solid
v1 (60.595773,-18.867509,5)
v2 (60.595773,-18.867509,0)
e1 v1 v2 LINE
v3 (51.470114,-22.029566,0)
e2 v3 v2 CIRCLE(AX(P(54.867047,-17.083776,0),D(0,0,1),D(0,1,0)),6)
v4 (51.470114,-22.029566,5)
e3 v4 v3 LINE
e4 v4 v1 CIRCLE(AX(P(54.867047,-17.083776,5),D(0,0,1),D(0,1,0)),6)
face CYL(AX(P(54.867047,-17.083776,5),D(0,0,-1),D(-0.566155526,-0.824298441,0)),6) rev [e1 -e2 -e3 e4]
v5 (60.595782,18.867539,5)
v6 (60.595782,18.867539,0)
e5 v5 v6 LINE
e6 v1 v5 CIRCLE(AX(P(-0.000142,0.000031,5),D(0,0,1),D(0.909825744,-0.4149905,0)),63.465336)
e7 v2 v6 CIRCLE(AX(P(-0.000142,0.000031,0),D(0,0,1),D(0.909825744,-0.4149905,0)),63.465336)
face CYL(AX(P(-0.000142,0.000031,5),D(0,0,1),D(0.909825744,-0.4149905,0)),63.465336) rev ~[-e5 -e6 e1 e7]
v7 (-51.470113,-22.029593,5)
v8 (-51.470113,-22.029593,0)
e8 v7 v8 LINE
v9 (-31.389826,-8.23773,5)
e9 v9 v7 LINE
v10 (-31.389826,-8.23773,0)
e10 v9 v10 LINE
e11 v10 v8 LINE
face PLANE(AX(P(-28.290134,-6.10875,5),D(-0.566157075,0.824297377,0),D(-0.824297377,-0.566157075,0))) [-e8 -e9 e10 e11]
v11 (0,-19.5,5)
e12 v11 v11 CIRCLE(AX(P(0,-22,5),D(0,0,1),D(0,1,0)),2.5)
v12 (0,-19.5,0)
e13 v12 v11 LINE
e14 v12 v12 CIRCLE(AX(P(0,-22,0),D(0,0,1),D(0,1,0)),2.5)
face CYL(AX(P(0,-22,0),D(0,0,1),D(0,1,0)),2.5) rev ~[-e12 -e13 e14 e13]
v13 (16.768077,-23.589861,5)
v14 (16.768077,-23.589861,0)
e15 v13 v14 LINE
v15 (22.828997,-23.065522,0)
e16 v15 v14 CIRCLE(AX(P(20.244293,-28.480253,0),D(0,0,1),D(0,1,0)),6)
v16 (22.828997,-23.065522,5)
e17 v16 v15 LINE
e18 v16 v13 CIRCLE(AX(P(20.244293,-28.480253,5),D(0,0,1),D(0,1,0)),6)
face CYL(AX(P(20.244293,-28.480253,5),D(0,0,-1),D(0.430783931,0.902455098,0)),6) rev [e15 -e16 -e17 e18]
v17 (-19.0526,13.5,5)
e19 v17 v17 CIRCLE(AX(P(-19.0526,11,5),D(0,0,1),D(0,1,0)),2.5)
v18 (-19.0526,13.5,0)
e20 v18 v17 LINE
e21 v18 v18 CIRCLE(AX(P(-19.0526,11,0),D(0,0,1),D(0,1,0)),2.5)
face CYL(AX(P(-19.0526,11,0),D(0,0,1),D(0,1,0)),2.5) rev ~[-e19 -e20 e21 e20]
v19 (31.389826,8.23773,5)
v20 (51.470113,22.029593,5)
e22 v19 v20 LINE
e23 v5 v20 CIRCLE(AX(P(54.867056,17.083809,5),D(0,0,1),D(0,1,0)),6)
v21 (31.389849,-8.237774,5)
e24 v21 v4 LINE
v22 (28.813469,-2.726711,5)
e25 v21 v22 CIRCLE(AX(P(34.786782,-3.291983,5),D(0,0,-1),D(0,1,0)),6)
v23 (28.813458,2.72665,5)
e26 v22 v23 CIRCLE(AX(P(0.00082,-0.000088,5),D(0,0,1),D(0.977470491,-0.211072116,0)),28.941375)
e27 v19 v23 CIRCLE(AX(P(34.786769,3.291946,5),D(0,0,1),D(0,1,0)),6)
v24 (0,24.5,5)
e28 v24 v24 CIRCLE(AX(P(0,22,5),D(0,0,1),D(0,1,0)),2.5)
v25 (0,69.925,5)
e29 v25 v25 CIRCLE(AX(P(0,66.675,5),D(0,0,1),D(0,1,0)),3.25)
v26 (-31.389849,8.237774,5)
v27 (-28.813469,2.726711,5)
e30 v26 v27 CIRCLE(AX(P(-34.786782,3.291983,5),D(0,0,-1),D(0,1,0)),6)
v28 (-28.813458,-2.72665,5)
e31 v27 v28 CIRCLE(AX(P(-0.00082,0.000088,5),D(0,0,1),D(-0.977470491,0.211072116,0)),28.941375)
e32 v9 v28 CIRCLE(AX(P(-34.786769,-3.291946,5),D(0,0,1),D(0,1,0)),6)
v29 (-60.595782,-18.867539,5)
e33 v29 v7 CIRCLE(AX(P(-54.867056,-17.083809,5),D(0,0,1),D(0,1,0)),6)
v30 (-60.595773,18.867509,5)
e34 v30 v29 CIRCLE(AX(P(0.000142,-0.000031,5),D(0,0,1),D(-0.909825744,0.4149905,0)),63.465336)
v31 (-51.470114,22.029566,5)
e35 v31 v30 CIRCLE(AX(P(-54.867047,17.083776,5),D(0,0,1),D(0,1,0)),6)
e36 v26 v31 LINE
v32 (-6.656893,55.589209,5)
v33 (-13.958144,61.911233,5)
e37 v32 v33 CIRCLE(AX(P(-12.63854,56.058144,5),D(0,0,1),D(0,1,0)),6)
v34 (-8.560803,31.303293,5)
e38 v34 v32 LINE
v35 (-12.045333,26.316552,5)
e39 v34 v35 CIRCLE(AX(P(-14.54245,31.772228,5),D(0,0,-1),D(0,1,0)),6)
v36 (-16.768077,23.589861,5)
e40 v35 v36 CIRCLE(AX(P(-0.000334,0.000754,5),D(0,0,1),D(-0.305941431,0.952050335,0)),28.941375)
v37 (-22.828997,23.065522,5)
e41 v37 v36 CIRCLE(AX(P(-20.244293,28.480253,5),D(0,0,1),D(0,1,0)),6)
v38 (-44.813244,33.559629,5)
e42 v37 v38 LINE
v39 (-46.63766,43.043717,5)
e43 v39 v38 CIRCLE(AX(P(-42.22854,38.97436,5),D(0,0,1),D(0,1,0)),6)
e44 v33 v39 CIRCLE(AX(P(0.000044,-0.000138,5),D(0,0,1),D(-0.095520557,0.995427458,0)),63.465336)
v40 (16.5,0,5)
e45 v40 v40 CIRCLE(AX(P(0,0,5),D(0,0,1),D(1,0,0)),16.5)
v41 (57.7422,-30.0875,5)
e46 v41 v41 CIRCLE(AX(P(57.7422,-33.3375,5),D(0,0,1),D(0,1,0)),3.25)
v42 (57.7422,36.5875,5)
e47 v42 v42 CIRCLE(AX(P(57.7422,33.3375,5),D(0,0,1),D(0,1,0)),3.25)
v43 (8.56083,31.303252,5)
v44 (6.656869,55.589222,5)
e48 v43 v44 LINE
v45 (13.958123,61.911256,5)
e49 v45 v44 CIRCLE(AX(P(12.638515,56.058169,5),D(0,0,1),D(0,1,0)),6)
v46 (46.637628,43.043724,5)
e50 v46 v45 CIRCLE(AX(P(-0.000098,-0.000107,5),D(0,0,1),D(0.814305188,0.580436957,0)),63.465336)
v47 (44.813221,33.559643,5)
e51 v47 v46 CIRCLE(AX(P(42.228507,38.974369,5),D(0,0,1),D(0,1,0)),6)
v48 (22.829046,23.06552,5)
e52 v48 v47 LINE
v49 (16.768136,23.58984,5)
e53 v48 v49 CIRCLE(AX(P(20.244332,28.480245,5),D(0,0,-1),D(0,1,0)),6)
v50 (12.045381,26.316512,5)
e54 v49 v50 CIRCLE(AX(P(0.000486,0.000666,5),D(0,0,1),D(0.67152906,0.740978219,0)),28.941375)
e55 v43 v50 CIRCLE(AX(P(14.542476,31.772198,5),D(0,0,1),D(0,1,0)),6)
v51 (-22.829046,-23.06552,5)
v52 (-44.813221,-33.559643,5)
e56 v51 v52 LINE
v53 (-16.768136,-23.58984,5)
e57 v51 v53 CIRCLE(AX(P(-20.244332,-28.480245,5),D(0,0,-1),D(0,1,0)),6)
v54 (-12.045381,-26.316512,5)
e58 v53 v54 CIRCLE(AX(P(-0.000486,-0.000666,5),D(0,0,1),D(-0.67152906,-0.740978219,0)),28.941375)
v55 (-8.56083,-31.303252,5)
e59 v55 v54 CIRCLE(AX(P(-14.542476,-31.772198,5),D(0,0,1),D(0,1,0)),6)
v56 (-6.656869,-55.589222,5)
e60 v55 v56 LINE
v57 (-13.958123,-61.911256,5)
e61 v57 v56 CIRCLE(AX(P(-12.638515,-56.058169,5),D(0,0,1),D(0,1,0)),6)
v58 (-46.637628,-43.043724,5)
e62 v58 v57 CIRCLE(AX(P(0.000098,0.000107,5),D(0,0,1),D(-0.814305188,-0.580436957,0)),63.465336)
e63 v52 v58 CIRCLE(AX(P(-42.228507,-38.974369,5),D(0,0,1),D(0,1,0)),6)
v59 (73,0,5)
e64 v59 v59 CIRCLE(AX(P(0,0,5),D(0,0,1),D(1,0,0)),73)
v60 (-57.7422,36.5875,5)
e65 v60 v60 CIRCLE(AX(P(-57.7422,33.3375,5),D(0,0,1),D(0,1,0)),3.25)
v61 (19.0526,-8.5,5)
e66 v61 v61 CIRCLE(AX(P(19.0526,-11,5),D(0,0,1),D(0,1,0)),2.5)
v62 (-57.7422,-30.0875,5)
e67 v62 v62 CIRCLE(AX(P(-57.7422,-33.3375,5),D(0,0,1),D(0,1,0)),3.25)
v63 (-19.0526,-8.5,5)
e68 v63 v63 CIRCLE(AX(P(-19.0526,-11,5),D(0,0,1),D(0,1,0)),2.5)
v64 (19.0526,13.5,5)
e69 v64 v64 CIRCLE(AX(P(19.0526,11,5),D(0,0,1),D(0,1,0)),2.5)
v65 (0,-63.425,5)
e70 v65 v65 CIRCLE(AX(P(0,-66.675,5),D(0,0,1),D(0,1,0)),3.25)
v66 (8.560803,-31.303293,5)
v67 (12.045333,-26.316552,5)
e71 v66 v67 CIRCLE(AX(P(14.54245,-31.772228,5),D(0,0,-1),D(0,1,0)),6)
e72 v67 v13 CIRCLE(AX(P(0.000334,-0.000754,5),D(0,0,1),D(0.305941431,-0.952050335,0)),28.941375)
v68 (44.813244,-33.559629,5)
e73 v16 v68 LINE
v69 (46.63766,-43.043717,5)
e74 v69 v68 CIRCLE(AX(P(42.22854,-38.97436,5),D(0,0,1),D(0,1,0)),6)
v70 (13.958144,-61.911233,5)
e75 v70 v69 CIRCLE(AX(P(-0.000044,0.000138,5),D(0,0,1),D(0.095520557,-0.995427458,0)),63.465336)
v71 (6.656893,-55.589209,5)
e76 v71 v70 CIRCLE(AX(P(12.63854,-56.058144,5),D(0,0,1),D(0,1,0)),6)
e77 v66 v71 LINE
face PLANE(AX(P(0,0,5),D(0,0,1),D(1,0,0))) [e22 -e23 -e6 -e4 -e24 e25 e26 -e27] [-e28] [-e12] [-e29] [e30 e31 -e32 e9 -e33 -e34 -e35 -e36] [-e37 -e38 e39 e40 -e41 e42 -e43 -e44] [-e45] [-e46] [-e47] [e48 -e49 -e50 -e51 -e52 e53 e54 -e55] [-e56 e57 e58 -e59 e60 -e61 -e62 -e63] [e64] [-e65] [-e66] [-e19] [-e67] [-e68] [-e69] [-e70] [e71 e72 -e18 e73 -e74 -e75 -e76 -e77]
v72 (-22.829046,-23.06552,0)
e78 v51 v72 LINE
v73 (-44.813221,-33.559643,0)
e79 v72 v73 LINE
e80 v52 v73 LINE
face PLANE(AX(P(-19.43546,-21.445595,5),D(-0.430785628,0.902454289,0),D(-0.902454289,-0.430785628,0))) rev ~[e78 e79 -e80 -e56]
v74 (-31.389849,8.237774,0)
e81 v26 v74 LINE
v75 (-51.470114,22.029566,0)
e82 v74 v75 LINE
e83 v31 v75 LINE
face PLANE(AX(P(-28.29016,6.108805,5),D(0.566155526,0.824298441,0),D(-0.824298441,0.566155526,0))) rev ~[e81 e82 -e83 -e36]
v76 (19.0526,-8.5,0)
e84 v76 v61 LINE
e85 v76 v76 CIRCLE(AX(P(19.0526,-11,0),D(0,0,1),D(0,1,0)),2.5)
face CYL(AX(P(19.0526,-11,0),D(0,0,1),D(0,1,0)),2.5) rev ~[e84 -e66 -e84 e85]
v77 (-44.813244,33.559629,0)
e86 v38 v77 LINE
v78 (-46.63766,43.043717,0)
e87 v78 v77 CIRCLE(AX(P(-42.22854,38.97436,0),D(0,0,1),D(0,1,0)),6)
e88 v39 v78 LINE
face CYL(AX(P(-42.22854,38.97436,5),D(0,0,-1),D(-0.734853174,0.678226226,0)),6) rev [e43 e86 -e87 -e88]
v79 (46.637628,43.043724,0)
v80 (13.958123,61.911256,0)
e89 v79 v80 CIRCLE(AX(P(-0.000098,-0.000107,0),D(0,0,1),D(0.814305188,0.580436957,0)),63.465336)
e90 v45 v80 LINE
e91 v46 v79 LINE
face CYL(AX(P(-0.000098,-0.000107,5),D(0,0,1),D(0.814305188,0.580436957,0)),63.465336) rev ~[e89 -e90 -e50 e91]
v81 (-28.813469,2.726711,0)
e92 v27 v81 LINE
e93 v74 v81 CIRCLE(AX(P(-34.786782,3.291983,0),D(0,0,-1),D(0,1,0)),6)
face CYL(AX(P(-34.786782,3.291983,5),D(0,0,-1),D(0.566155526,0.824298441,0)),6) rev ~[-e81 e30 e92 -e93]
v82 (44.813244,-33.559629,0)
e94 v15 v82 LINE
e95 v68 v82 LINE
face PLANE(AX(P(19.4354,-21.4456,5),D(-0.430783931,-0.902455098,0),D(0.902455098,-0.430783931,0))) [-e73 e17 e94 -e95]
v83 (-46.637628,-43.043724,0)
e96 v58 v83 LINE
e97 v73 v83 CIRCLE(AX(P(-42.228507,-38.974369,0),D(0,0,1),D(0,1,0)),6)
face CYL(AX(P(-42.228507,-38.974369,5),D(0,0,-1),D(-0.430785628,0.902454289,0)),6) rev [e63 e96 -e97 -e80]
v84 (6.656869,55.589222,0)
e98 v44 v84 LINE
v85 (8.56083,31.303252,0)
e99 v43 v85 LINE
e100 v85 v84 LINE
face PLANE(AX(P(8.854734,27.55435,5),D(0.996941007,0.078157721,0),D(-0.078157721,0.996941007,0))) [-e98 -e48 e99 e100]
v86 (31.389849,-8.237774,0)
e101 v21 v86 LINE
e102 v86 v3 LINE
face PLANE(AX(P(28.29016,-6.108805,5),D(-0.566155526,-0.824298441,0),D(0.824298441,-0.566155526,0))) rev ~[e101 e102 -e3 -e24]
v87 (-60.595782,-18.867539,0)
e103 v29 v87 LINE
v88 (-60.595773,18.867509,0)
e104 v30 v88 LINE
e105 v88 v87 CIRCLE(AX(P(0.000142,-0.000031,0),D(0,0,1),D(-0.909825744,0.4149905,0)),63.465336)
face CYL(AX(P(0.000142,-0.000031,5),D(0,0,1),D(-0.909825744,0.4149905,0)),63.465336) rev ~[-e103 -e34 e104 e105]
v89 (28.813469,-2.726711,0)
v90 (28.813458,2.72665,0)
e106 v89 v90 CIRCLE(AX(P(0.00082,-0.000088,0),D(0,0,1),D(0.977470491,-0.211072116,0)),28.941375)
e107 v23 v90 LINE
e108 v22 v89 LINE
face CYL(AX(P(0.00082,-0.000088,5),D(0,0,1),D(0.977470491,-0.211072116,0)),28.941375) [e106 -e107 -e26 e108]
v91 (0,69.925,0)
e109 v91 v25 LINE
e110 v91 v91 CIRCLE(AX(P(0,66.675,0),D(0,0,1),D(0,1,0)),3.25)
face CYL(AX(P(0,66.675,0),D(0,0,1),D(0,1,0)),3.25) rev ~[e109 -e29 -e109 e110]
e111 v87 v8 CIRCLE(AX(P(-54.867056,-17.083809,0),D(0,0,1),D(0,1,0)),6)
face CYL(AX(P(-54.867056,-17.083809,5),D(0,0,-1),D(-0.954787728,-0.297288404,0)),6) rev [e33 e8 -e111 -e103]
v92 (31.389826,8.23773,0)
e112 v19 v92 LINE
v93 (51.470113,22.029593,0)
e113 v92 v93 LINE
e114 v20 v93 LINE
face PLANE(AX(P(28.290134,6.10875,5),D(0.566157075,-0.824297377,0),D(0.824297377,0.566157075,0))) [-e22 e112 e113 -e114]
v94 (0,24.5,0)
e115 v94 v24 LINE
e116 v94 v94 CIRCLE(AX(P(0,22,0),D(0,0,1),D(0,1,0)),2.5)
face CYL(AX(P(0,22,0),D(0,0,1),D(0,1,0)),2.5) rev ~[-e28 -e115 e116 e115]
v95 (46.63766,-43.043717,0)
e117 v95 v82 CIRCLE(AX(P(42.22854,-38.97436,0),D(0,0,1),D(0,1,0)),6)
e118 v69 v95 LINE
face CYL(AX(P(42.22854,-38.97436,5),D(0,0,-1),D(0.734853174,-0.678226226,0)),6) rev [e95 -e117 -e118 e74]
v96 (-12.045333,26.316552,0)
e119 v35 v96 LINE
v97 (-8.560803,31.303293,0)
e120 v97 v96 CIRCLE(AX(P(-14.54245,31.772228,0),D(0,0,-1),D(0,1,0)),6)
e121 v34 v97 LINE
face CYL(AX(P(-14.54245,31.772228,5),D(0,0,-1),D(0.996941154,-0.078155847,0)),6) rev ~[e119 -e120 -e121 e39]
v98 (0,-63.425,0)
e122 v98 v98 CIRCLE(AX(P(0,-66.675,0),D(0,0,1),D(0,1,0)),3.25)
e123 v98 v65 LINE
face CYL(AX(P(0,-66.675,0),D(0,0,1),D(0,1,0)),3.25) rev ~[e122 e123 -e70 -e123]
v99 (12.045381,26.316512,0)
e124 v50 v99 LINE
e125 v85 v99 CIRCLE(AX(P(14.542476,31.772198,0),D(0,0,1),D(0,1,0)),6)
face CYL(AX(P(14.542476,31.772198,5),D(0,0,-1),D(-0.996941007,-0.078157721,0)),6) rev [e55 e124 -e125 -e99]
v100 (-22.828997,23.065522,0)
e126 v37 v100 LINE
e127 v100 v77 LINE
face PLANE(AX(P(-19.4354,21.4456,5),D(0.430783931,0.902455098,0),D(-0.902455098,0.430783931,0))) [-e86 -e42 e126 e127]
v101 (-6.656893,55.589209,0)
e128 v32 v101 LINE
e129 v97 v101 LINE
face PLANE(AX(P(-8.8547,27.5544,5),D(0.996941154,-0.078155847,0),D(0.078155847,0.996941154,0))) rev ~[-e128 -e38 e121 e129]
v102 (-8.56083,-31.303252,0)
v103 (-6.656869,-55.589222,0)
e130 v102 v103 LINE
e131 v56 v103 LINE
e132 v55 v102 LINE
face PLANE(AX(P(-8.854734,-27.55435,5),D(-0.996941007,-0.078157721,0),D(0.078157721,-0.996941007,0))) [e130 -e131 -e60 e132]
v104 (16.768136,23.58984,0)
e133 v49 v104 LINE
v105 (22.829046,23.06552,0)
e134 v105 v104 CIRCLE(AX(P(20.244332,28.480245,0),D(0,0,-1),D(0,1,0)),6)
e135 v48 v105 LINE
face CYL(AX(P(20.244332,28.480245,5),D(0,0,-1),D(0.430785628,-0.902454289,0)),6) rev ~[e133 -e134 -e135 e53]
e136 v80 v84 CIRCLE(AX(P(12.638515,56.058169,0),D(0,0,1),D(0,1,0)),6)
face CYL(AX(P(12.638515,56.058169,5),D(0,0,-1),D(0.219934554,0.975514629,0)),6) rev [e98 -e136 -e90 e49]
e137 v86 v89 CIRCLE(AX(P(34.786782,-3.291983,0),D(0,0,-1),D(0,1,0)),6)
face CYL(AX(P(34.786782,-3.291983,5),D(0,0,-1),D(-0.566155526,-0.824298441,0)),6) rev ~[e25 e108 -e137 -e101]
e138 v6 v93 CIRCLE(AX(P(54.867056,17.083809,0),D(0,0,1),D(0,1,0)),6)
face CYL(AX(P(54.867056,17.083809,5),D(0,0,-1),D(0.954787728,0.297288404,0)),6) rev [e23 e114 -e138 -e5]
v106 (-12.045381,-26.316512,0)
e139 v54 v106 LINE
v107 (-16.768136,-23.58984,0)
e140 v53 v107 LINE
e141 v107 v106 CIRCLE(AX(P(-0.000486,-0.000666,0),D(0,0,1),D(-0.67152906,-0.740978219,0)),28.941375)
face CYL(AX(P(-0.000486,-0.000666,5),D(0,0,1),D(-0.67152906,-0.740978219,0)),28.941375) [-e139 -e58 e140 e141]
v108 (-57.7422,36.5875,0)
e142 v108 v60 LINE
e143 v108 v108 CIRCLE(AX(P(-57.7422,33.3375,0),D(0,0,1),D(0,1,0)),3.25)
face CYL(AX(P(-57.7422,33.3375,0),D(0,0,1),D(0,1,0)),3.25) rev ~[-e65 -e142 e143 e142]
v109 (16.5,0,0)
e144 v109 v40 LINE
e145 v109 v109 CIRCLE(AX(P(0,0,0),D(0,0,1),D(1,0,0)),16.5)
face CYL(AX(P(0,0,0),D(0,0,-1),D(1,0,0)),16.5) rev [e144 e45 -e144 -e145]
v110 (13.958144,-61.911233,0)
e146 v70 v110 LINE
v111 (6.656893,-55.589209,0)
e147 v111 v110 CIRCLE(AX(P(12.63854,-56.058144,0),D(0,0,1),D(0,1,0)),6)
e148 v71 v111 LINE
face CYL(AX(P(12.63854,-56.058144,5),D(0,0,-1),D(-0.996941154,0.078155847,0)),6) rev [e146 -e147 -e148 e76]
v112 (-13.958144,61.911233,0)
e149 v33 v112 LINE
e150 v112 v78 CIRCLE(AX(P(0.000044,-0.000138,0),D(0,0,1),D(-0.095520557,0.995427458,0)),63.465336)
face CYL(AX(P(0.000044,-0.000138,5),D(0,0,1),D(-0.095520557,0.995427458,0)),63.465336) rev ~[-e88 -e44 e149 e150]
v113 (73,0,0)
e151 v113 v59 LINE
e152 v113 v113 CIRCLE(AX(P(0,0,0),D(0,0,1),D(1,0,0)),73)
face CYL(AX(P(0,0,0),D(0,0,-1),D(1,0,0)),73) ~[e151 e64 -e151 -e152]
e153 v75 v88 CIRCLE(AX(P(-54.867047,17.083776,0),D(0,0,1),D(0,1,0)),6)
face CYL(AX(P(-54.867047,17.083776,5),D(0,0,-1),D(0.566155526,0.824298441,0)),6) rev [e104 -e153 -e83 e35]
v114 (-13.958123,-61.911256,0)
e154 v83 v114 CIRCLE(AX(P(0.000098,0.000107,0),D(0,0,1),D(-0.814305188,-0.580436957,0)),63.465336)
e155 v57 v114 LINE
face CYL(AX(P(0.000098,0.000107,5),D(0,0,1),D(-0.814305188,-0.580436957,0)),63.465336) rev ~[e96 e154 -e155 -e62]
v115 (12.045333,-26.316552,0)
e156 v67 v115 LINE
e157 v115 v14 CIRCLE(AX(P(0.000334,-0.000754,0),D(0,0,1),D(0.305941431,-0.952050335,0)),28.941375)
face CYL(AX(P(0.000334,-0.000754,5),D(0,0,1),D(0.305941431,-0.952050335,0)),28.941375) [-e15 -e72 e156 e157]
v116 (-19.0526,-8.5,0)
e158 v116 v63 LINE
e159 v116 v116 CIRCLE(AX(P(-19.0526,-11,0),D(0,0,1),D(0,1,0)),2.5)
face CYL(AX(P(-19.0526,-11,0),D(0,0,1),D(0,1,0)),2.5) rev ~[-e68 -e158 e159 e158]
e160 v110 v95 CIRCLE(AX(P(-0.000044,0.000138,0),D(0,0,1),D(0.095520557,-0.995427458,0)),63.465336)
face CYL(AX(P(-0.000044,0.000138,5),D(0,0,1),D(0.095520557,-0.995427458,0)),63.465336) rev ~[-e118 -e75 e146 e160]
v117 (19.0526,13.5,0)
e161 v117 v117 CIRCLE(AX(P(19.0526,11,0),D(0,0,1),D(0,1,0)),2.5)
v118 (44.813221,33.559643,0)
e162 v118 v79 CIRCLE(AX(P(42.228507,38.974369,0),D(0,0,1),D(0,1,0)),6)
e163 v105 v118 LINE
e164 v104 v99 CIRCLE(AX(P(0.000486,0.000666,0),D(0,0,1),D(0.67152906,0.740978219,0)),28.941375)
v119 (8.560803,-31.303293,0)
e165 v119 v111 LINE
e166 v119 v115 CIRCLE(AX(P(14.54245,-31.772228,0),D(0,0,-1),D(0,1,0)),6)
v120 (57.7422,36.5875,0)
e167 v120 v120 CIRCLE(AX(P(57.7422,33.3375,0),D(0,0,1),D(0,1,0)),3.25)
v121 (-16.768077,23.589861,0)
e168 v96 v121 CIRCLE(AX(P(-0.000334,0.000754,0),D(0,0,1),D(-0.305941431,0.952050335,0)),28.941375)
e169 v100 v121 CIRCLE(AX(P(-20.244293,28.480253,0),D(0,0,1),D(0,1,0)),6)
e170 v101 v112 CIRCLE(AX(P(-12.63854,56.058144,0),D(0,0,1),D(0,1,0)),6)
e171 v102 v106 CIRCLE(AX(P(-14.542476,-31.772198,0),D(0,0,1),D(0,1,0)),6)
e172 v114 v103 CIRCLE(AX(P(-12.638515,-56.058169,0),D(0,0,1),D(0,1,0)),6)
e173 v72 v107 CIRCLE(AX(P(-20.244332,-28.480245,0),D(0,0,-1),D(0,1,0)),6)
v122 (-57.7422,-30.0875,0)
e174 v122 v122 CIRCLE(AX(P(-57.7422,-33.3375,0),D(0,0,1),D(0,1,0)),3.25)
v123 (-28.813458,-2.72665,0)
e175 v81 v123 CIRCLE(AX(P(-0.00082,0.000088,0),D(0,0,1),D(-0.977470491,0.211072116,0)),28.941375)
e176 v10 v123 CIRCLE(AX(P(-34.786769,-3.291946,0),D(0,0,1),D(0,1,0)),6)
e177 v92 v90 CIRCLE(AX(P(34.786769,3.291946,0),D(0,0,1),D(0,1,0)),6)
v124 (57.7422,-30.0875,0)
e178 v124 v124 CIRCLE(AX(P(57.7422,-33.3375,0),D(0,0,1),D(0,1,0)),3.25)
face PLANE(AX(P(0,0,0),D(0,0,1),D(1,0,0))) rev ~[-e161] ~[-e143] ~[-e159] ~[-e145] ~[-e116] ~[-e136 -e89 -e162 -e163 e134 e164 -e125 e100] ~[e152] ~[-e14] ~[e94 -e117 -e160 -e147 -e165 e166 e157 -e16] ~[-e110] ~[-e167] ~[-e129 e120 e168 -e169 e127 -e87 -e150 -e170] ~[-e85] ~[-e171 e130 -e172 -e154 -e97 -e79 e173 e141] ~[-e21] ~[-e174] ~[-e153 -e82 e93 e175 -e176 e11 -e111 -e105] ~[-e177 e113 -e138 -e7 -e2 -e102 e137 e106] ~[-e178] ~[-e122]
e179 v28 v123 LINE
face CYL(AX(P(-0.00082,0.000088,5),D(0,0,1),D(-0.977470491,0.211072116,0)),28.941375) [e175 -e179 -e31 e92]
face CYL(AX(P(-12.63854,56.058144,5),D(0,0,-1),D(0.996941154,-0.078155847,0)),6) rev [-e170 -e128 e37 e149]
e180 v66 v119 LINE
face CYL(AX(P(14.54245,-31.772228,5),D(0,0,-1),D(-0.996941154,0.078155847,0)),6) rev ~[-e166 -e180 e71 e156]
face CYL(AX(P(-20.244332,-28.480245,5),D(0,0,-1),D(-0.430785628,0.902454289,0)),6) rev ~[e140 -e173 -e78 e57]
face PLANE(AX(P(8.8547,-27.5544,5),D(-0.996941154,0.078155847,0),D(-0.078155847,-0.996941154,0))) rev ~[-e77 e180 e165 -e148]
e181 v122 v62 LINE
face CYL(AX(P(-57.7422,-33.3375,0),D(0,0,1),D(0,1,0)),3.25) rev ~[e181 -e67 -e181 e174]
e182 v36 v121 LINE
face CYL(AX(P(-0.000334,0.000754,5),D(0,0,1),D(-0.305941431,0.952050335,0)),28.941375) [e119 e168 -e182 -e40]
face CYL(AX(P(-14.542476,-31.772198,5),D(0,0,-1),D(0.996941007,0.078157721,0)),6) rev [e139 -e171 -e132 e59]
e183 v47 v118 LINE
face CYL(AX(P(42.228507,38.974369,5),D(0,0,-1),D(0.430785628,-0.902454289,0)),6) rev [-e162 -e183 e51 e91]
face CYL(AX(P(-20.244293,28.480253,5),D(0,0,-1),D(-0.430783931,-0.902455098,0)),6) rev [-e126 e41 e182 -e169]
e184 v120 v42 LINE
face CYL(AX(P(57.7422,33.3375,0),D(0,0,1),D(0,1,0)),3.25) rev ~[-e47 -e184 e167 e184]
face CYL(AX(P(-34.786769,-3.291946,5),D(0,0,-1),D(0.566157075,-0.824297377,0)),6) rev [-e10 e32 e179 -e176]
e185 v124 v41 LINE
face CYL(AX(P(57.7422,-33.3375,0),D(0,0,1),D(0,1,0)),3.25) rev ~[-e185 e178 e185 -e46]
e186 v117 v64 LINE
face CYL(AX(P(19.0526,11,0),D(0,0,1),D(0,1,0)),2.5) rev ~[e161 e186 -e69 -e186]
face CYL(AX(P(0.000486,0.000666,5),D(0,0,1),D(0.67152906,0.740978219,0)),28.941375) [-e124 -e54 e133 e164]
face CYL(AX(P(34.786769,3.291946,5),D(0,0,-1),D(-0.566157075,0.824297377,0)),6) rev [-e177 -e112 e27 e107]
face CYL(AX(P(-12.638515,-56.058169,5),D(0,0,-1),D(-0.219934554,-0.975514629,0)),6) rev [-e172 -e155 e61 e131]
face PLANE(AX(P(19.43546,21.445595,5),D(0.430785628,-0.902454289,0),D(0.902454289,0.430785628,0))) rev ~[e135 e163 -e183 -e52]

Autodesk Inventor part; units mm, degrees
ref_plane "YZ Plane" through (0, 0, 0) normal (1, 0, 0) x (0, 1, 0)
ref_plane "XZ Plane" through (0, 0, 0) normal (0, 1, 0) x (-1, 0, 0)
ref_plane "XY Plane" through (0, 0, 0) normal (0, 0, 1) x (1, 0, 0)
sketch "Sketch1" plane through (0, 0, 0) normal (0, 0, 1) x (1, 0, 0)
  circle A0 centre (0, 0) radius 16.5
  circle A1 centre (0, 0) radius 73
  point P0 (0, 66.675)
  point P1 (-57.7422, 33.3375)
  point P2 (-57.7422, -33.3375)
  point P3 (0, -66.675)
  point P4 (57.7422, -33.3375)
  point P5 (57.7422, 33.3375)
  point P6 (0, 22)
  point P7 (-19.0526, 11)
  point P8 (-19.0526, -11)
  point P9 (0, -22)
  point P10 (19.0526, -11)
  point P11 (19.0526, 11)
  dimension "d0" = 66.675
  dimension "d3" = 360
  dimension "d9" = 33
  dimension "d20" = 22
  dimension "d23" = 360
  dimension "d25" = 146
extrude "Extrusion2" add sketch "Sketch1" along normal blind 5
hole "Hole2" at (0, 66.675, 0) at (-57.7422, 33.3375, 0) at (-57.7422, -33.3375, 0) at (0, -66.675, 0) at (57.7422, -33.3375, 0) at (57.7422, 33.3375, 0) direction (0, 0, 1) diameter 6.5 end through all
hole "Hole3" at (0, 22, 0) at (-19.0526, 11, 0) at (-19.0526, -11, 0) at (0, -22, 0) at (19.0526, 11, 0) at (19.0526, -11, 0) direction (0, 0, 1) diameter 5 end through all
sketch "Sketch4" plane through (0, 0, 5) normal (0, 0, 1) x (1, 0, 0)
  circle A0 centre (0, 0) radius 28.9422 construction
  line L0 (0, 0) -> (58.5803, 0) construction
  circle A1 centre (-57.7422, 33.3375) radius 3.25 construction
  circle A2 centre (0, 66.675) radius 3.25 construction
  line L1 (-57.7422, 33.3375) -> (0, 66.675) construction
  circle A3 centre (0, 0) radius 16.5 construction
  circle A4 centre (-19.0526, 11) radius 2.5 construction
  circle A5 centre (0, 22) radius 2.5 construction
  line L2 (-19.0526, 11) -> (0, 22) construction
  circle A6 centre (0, 0) radius 63.4652 construction
  arc A7 (-6.0622, 63.175) -> (-51.6801, 36.8375) centre (0, 0) ccw
  line L3 (-9.5263, 16.5) -> (-21.2308, 36.7728) construction
  line L4 (-8.8547, 27.5544) -> (-19.4354, 21.4456) construction
  line L5 (-8.8547, 27.5544) -> (-6.0622, 63.175)
  line L6 (-19.4354, 21.4456) -> (-51.6801, 36.8375)
  arc A8 (-8.8547, 27.5544) -> (-19.4354, 21.4456) centre (0, 0) ccw
  point P0 (-14.1451, 24.5)
  dimension "d60" = 7
  dimension "d61" = 7
extrude "Extrusion4" cut sketch "Sketch4" against normal blind 10
fillet "Fillet1" radius 6 4 edges at (-51.6801, 36.8375, 2.5) (-6.0622, 63.175, 2.5) (-8.8547, 27.5544, 2.5) (-19.4354, 21.4456, 2.5)
pattern_circular "Circular Pattern1" count 6 over 360 about axis through (0, 0, -10) along (0, 0, 1) of "Extrusion4", "Fillet1"
equation "\"d61\" = d60"
properties part number "SprocketHubPlate_plasmacut"
